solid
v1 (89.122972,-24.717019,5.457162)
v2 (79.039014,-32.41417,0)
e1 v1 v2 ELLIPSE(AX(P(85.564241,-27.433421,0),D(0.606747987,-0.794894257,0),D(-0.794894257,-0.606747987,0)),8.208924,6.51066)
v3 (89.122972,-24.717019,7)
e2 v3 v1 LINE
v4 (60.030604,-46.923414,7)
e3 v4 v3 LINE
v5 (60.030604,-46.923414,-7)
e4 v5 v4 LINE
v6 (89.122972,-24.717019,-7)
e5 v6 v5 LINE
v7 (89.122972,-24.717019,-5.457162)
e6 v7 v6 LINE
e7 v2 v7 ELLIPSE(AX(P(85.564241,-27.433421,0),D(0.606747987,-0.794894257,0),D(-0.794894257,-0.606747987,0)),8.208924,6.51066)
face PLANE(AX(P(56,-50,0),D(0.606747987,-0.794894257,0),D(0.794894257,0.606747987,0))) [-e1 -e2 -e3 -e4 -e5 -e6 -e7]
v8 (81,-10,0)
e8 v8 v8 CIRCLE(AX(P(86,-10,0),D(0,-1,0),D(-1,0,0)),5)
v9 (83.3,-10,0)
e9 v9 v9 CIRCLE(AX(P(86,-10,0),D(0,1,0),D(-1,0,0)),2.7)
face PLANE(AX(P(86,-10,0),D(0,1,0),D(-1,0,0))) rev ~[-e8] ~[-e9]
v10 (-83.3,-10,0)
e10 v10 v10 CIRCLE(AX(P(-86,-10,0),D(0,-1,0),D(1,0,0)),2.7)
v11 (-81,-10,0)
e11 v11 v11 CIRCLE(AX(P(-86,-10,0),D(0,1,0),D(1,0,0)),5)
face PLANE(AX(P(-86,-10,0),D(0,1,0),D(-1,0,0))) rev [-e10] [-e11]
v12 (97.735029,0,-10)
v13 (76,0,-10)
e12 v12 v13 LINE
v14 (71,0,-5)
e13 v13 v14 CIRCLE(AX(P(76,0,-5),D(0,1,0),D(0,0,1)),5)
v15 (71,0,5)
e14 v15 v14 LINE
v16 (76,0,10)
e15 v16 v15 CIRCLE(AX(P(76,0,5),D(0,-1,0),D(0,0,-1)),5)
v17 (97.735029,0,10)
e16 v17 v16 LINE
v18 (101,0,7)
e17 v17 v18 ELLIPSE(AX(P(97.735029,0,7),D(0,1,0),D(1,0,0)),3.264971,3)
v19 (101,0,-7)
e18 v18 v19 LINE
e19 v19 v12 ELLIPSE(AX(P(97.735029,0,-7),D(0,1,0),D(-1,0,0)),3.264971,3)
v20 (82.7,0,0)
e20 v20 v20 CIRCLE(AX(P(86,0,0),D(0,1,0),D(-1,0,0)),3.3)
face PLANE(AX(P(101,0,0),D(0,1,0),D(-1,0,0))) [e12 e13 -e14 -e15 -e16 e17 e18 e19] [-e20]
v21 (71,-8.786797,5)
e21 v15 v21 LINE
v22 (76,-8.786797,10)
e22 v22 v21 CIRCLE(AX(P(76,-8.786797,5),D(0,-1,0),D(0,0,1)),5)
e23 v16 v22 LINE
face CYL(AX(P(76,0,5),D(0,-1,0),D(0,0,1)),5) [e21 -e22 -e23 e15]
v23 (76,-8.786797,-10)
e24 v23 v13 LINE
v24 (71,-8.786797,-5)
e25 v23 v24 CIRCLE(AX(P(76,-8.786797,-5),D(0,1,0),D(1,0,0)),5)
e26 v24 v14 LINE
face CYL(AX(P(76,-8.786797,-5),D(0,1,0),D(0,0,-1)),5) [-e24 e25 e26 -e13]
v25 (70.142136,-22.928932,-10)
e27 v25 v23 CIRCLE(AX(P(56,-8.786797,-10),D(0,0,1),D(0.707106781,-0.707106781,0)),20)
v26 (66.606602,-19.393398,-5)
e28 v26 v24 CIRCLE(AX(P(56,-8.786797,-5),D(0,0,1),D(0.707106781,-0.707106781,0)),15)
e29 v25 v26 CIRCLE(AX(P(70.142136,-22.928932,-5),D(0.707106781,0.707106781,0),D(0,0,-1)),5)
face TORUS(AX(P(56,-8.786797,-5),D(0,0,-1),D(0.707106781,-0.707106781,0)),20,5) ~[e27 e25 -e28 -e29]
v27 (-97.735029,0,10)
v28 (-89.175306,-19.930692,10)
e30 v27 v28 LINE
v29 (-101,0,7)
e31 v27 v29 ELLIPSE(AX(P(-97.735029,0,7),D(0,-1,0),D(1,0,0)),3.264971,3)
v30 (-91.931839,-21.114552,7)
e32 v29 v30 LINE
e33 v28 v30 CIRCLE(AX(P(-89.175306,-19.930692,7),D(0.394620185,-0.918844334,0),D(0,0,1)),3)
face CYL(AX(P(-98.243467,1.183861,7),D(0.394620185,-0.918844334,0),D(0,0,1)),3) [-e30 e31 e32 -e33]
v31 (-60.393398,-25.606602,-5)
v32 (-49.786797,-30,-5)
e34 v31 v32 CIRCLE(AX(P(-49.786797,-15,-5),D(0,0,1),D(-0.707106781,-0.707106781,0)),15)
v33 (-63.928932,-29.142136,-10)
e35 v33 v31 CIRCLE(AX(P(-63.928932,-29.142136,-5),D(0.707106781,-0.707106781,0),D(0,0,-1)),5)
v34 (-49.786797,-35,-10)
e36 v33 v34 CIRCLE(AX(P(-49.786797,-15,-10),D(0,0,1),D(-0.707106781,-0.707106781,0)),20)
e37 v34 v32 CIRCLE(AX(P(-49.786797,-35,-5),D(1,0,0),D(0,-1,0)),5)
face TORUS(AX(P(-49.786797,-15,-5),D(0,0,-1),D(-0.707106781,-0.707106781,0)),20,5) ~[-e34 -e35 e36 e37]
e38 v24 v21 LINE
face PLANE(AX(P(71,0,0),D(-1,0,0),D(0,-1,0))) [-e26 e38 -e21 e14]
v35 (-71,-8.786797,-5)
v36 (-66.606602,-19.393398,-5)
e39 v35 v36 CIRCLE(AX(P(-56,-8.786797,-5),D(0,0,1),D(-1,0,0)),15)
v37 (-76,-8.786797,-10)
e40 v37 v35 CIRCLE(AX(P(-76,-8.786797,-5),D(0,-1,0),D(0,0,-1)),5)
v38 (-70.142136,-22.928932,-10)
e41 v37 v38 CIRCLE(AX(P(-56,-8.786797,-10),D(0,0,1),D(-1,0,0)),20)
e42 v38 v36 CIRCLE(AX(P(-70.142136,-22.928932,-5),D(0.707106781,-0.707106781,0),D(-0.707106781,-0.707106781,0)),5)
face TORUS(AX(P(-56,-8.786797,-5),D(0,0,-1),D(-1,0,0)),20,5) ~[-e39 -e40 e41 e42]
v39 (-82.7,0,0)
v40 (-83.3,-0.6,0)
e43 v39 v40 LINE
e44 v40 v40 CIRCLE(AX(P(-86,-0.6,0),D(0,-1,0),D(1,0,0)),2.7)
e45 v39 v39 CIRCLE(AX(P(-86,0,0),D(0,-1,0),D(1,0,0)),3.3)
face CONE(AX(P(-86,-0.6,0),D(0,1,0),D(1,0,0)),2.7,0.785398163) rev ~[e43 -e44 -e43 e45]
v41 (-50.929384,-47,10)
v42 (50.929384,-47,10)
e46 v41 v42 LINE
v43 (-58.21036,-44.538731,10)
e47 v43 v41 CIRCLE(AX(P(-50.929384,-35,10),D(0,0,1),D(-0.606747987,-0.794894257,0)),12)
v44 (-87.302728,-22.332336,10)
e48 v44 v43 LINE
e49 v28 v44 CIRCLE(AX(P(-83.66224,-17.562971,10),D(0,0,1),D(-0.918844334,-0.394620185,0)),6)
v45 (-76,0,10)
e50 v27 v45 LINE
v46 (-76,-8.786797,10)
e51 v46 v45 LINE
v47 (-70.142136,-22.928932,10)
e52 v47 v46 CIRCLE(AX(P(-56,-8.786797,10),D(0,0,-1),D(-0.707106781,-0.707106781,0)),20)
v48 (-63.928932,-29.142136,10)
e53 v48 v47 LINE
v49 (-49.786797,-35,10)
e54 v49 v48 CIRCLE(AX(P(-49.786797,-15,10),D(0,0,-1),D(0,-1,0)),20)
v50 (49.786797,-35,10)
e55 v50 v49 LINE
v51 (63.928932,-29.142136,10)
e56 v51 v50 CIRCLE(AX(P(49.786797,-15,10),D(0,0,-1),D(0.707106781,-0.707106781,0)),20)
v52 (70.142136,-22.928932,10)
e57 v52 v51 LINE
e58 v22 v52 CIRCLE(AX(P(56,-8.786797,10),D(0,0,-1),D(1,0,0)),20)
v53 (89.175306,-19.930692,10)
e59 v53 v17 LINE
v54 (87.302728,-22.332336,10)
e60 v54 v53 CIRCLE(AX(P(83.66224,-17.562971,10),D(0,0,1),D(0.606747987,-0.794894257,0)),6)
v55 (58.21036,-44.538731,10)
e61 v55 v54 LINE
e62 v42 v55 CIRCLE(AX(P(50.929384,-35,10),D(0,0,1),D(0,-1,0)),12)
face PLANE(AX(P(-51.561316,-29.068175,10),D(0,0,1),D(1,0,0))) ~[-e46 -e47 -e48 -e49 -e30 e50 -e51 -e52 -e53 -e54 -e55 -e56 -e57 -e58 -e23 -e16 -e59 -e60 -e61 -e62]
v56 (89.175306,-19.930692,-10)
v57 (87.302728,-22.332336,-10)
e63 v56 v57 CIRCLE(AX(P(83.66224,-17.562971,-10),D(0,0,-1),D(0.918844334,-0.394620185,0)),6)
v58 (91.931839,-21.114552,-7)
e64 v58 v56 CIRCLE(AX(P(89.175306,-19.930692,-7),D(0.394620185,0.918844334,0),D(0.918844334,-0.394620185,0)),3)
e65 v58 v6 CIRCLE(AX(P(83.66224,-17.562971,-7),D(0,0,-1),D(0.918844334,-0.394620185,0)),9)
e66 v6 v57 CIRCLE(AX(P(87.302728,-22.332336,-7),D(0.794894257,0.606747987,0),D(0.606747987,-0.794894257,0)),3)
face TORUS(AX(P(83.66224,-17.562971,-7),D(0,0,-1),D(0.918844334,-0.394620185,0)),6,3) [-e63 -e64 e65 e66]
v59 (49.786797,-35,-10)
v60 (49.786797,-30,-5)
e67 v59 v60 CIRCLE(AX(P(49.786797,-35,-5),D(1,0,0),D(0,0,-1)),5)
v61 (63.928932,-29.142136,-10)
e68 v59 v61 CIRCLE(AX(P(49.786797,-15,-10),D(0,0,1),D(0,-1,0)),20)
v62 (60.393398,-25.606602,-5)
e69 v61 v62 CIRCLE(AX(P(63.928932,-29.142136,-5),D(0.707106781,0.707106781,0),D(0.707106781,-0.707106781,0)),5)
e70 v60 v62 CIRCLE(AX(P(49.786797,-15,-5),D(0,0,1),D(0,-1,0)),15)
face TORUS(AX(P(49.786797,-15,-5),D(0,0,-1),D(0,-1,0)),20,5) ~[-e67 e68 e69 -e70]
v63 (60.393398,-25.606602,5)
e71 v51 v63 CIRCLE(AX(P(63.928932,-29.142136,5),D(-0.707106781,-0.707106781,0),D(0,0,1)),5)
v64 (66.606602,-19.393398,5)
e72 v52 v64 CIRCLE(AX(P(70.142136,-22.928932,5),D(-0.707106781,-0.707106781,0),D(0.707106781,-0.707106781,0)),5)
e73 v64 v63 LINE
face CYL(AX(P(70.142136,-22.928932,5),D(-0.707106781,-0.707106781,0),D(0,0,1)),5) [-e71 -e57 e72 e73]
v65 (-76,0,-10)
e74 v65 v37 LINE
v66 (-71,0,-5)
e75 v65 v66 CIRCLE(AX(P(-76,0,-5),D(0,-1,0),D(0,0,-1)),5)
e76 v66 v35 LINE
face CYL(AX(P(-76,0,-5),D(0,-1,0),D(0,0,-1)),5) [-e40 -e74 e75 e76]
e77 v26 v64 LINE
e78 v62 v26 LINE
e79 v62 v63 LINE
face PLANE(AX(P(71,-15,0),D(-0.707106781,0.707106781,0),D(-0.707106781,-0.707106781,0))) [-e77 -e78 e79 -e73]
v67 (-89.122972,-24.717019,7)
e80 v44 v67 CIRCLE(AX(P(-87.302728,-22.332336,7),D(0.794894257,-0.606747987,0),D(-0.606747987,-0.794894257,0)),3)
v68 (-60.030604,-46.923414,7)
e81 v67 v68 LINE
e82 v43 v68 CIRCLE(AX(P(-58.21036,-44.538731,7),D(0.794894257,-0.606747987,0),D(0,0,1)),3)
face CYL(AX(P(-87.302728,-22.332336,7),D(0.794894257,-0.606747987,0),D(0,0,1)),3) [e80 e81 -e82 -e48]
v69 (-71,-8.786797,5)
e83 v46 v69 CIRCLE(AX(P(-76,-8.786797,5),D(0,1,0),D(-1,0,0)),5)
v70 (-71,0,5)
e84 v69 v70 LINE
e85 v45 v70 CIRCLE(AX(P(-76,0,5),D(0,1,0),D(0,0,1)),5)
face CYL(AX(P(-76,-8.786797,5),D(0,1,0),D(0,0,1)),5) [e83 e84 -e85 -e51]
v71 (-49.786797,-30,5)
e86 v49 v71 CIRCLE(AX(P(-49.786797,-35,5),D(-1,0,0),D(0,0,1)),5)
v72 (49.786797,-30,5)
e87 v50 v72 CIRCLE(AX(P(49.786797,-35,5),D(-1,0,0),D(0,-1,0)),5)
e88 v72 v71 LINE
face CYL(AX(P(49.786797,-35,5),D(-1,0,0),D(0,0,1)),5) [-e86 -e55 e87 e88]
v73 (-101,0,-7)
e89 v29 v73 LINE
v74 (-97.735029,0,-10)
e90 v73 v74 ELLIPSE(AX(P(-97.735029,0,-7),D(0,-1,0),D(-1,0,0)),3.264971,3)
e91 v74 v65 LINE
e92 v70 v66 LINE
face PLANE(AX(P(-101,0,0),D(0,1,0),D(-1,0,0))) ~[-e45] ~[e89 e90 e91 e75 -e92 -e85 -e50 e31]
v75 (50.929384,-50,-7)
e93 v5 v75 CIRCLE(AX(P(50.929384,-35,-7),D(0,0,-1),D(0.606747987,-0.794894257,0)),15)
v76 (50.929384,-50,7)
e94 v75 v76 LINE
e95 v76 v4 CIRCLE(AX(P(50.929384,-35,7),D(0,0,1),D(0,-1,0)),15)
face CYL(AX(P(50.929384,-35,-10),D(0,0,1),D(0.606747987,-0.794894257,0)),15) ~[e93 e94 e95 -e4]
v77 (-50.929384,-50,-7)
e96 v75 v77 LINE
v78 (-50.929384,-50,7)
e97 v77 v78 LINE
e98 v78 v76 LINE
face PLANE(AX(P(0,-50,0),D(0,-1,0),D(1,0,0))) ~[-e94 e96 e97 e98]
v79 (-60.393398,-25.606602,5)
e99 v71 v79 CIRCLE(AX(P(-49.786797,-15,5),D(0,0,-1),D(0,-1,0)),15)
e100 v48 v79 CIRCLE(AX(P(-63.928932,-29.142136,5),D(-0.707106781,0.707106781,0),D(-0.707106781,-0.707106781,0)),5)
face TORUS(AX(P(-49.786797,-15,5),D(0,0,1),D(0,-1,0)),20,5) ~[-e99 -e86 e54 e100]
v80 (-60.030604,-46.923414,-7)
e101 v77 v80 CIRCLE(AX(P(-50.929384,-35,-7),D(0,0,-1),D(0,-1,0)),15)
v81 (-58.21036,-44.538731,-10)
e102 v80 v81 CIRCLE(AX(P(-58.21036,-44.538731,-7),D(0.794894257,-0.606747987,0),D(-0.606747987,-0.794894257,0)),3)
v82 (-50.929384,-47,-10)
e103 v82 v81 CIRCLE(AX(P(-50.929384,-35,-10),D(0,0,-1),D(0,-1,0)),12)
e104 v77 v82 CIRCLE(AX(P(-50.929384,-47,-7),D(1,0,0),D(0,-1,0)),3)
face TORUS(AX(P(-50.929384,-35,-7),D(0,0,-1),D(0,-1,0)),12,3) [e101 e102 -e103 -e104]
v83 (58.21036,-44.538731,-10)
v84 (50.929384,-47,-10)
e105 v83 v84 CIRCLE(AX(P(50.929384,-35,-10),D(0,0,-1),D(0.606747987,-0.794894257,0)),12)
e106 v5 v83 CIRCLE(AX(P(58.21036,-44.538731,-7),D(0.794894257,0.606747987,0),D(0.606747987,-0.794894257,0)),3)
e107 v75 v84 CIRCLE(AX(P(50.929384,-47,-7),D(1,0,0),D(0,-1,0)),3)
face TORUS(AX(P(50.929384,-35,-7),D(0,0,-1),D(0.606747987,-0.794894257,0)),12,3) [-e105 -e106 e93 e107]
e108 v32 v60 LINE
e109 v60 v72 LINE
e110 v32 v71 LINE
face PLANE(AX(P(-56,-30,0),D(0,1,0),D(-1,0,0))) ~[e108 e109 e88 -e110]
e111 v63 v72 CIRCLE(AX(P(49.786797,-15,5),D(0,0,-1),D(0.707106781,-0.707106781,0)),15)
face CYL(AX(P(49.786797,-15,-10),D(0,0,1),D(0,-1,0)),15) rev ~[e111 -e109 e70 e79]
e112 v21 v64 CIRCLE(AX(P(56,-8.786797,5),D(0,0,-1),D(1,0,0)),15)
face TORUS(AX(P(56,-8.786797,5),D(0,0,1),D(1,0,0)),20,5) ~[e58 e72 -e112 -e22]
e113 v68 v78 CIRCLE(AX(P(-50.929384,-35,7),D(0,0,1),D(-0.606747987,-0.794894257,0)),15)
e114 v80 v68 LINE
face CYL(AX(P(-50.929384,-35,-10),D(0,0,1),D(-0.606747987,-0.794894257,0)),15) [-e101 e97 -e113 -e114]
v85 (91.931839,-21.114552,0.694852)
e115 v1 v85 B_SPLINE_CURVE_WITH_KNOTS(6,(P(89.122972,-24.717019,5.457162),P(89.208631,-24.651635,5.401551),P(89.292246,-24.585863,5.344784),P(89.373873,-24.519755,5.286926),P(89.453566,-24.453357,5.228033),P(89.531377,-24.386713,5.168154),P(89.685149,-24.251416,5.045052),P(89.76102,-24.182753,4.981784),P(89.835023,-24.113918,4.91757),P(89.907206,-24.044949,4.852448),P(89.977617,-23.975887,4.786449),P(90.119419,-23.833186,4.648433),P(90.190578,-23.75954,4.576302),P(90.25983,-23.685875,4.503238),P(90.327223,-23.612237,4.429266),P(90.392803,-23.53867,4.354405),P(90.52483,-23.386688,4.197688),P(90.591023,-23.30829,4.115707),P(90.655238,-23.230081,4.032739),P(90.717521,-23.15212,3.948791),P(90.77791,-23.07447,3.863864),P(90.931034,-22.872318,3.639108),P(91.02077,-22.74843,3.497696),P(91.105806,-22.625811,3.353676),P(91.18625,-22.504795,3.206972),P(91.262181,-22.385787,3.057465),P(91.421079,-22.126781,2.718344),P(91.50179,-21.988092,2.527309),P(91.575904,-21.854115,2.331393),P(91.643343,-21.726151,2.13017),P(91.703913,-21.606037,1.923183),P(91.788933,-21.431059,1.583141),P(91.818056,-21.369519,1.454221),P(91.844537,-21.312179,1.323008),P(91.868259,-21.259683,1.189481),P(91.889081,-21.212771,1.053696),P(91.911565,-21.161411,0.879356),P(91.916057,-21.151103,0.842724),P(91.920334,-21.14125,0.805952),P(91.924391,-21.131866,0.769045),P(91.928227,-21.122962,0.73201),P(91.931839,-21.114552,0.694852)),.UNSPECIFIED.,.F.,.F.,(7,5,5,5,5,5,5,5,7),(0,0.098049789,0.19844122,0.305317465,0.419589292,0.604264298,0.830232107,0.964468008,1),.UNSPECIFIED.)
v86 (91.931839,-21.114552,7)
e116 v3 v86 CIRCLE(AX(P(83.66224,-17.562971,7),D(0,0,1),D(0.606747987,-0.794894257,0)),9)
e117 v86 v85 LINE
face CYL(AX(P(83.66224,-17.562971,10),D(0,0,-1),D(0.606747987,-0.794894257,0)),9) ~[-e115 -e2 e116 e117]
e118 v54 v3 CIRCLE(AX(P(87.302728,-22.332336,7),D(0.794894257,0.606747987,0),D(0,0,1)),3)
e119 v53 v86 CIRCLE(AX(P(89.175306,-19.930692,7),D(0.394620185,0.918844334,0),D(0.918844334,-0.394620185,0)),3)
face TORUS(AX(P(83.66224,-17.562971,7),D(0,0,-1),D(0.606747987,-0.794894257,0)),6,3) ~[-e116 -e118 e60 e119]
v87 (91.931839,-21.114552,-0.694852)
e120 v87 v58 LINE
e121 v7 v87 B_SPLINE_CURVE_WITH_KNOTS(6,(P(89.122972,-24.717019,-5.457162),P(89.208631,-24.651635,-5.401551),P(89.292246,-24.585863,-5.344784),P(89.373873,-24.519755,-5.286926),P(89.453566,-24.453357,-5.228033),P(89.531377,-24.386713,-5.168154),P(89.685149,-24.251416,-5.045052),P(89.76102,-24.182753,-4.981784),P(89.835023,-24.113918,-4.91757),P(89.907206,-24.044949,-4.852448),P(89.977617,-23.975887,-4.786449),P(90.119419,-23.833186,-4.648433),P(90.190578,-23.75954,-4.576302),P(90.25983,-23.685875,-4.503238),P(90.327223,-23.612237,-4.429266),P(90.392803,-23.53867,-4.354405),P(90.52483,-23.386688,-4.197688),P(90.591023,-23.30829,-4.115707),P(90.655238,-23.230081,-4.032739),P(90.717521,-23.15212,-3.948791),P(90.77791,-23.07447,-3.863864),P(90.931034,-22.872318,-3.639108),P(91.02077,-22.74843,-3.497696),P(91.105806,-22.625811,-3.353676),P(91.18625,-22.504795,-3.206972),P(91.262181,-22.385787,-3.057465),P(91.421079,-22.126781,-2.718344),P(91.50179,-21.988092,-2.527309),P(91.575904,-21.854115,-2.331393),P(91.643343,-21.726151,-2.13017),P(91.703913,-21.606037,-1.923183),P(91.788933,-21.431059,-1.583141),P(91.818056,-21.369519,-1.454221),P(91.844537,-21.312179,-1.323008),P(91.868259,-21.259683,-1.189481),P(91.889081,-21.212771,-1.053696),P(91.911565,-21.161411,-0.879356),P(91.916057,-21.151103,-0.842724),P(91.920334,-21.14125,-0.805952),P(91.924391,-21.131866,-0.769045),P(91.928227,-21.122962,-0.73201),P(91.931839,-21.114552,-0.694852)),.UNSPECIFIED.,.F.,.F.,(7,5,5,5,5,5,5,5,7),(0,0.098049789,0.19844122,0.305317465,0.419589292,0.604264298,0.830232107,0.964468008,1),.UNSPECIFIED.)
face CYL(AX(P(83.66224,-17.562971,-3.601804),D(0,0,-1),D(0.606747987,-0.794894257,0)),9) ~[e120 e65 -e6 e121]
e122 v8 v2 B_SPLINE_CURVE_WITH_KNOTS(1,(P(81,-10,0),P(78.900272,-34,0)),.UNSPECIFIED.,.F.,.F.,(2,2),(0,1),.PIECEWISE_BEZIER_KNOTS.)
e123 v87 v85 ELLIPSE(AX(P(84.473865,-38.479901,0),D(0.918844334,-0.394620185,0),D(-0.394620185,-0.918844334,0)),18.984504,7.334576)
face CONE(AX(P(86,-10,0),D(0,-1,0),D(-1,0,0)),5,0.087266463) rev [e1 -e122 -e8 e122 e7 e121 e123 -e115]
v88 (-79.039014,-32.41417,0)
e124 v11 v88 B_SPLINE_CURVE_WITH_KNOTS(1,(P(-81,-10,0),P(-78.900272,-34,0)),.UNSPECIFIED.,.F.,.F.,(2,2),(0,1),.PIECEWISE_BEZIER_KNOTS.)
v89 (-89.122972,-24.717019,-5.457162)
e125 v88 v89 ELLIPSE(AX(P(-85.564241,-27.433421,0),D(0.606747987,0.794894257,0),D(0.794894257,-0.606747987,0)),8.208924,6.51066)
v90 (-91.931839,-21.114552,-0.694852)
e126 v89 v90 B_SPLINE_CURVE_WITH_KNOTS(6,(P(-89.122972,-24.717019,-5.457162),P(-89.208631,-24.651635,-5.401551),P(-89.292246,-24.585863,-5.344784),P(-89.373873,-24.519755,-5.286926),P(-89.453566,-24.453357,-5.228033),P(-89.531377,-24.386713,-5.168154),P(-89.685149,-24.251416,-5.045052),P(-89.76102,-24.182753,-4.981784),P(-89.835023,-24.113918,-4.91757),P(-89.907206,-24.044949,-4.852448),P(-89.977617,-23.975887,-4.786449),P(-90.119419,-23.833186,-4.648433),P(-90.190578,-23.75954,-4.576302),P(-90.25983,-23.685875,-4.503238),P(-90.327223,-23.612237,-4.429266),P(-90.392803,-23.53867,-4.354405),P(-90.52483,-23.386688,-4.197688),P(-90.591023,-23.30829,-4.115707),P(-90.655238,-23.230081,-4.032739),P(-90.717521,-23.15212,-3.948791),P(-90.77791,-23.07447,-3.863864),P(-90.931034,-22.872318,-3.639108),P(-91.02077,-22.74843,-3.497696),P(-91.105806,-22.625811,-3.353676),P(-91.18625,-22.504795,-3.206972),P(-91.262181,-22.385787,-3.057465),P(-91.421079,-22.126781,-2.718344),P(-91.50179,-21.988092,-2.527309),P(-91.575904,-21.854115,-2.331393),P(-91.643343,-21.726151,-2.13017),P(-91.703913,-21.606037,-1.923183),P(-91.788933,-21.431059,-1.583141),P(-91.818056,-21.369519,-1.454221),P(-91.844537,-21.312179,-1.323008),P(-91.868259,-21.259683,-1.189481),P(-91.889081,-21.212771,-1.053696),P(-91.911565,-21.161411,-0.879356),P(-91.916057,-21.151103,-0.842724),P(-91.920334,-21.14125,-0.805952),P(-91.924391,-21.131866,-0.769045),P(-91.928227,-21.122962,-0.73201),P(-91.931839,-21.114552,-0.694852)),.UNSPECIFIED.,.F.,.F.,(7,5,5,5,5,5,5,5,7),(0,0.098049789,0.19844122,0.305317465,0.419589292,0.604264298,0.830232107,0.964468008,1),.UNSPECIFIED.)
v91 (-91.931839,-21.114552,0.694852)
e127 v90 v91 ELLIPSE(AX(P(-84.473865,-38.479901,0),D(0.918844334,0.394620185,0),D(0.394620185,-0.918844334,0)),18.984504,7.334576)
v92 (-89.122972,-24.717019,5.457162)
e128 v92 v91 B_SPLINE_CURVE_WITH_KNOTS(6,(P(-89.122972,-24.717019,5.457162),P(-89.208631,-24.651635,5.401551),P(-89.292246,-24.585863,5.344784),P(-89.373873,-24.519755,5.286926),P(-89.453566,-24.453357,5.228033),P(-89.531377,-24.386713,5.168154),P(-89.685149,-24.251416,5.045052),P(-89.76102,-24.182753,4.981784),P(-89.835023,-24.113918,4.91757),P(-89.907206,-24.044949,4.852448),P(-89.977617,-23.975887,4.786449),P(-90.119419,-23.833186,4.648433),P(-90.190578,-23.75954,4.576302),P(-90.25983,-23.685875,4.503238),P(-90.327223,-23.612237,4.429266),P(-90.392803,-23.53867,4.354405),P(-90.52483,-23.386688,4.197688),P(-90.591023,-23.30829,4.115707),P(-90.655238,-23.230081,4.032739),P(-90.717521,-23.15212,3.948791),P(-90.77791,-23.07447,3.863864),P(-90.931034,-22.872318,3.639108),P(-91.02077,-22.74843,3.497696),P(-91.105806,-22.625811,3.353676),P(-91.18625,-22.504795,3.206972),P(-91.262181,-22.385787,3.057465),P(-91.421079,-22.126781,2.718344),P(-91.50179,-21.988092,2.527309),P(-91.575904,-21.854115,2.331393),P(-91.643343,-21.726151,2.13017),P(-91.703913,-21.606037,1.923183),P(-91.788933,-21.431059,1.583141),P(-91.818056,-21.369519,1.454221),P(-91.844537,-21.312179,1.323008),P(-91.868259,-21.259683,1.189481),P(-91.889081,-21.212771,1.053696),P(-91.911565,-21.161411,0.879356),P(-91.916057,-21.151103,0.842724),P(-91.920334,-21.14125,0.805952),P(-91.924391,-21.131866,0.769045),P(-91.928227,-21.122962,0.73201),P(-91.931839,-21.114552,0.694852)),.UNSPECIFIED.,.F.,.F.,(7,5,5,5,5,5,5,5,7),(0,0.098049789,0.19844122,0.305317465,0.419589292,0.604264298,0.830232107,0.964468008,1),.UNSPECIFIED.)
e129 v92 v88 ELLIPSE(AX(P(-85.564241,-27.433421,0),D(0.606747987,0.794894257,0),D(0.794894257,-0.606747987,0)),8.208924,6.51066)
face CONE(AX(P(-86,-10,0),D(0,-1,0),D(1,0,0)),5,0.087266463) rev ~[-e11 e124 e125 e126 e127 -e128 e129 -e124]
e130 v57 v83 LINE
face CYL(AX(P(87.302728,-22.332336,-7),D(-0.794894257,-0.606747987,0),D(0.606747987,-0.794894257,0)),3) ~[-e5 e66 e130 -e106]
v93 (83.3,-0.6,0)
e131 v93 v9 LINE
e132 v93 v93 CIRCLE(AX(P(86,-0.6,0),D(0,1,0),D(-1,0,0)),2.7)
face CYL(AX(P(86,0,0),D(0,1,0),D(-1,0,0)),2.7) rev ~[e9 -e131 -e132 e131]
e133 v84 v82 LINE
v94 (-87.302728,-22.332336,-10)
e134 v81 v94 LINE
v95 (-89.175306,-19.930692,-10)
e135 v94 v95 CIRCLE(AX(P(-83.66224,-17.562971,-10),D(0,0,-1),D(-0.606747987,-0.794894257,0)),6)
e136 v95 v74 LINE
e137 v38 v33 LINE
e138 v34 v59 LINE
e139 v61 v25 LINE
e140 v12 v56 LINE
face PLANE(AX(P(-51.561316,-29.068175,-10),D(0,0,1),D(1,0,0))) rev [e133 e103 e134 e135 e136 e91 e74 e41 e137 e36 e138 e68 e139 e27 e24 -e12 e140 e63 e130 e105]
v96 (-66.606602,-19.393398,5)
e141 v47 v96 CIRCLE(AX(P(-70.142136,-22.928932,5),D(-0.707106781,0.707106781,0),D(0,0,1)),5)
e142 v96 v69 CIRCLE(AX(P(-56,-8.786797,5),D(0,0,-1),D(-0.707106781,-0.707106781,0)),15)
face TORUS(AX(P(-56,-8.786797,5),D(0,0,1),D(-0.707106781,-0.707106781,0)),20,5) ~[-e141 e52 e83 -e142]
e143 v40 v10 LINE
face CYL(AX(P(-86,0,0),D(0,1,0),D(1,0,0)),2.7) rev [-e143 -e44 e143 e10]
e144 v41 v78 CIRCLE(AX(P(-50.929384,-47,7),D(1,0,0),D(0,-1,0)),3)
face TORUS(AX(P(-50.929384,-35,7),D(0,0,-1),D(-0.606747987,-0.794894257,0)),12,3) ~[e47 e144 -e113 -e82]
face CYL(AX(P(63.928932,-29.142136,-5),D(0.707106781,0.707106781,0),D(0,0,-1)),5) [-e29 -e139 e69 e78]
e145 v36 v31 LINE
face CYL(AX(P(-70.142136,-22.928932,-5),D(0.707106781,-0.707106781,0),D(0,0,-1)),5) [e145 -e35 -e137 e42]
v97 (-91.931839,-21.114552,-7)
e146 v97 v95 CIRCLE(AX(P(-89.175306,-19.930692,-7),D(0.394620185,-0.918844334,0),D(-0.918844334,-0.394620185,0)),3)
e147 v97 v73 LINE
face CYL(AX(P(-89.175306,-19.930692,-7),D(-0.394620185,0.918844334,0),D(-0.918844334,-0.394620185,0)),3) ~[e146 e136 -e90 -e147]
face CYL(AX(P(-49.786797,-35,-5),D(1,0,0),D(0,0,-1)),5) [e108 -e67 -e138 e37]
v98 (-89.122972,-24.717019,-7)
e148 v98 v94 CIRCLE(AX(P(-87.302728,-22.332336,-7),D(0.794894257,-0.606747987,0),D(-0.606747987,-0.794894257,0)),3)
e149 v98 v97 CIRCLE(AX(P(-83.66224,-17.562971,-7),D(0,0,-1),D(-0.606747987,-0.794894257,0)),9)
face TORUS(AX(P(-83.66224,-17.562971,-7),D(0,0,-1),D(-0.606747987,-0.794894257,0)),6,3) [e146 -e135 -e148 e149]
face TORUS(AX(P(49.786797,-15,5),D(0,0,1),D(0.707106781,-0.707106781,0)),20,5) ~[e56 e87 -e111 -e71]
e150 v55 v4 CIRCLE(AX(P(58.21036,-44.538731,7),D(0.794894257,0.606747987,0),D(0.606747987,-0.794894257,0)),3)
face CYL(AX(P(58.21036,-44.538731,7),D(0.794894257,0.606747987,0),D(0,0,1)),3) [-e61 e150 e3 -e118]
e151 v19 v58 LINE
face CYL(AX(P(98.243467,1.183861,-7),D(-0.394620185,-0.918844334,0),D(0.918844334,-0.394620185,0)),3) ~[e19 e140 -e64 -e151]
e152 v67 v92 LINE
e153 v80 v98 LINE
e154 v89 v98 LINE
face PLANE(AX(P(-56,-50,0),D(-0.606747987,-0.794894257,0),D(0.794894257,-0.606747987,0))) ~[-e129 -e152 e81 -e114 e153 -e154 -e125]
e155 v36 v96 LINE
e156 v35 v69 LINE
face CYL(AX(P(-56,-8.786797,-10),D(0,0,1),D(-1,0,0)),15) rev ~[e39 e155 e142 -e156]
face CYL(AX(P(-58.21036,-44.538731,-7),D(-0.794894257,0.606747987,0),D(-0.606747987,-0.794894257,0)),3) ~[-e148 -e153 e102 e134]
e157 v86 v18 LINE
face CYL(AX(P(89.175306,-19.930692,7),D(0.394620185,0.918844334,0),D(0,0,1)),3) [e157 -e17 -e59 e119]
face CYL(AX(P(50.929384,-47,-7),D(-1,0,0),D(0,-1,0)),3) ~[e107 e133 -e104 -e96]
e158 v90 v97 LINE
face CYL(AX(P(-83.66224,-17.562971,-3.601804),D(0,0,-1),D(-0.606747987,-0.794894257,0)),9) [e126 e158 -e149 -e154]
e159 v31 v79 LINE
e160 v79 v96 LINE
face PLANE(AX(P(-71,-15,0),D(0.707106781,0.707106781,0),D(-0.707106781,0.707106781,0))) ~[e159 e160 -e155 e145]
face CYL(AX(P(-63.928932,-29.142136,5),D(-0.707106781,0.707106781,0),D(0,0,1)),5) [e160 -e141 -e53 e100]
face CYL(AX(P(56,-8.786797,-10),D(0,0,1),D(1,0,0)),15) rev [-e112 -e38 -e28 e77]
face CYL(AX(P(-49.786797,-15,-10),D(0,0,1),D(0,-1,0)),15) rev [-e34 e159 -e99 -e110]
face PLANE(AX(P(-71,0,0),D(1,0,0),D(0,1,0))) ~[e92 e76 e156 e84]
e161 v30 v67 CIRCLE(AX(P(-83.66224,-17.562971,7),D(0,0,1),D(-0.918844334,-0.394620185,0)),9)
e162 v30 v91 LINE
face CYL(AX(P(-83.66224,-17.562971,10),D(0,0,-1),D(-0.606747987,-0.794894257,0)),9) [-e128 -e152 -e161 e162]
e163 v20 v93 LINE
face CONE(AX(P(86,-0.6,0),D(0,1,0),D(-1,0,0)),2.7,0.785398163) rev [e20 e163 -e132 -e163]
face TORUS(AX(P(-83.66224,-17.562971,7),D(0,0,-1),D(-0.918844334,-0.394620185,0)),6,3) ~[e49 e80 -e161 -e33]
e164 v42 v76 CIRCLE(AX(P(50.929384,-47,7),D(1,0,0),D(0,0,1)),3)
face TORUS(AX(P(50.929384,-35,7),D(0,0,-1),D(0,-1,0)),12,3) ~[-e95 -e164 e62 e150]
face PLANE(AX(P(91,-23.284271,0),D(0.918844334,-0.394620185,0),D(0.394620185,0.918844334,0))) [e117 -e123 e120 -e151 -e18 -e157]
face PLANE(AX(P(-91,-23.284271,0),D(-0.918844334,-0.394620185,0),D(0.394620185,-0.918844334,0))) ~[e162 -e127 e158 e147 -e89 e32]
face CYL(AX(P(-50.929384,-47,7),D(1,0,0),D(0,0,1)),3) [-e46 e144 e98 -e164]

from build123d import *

# Parameters (mm, degrees)
PAD_DEPTH       = 10
SKETCH001_R     = 2.7
POCKET_DEPTH    = 40
SKETCH002_R     = 5
POCKET001_DEPTH = 24
POCKET001_TAPER = -5
FILLET_R        = 9
FILLET001_R     = 15
CHAMFER_SIZE    = 0.6
FILLET002_R     = 3
FILLET003_R     = 5


with BuildPart() as part:
    # Sketch (on XY_Plane of Origin) → Pad (new body, symmetric)
    with BuildSketch(Plane.XY):
        Polygon((71, 0), (71, -15), (56, -30), (0, -30), (0, -50), (56, -50), (91, -23.284271), (101, 0), align=None)
    extrude(amount=PAD_DEPTH, both=True)

    # Sketch001 (on Face8 of Pad) → Pocket (cut)
    with BuildSketch(Plane(origin=(0, 0, 0), x_dir=(-1, 0, 0), z_dir=(0, 1, 0))):
        with Locations((-86, 0)):
            Circle(SKETCH001_R)
    extrude(amount=-POCKET_DEPTH, mode=Mode.SUBTRACT)

    # Sketch002 (on Face2 of Pocket) → Pocket001 (cut)
    with BuildSketch(Plane(origin=(0, -10, 0), x_dir=(-1, 0, 0), z_dir=(0, 1, 0))):
        with Locations((-86, 0)):
            Circle(SKETCH002_R)
    extrude(amount=-POCKET001_DEPTH, taper=POCKET001_TAPER, mode=Mode.SUBTRACT)

    # Fillet
    fillet_edges = [part.edges().sort_by_distance(p)[0] for p in [
        (91, -23.284271, 6.800902),
        (91, -23.284271, -6.800902),
    ]]
    fillet(fillet_edges, radius=FILLET_R)

    # Fillet001
    fillet001_edges = [part.edges().sort_by_distance(p)[0] for p in [
        (56, -50, 0),
        (56, -30, 0),
        (71, -15, 0),
    ]]
    fillet(fillet001_edges, radius=FILLET001_R)

    # Chamfer
    chamfer_edges = [part.edges().sort_by_distance(p)[0] for p in [
        (88.7, 0, 0),
    ]]
    chamfer(chamfer_edges, length=CHAMFER_SIZE)

    # Mirrored: part across YZ


with BuildPart() as part_1:
    add(part.part)
    add(part.part.mirror(Plane.YZ))

    # Fillet002
    fillet002_edges = [part_1.edges().sort_by_distance(p)[0] for p in [
        (0, -50, 10),
        (0, -50, -10),
    ]]
    fillet(fillet002_edges, radius=FILLET002_R)

    # Fillet003
    fillet003_edges = [part_1.edges().sort_by_distance(p)[0] for p in [
        (0, -30, 10),
        (0, -30, -10),
    ]]
    fillet(fillet003_edges, radius=FILLET003_R)


solid = part_1.part
